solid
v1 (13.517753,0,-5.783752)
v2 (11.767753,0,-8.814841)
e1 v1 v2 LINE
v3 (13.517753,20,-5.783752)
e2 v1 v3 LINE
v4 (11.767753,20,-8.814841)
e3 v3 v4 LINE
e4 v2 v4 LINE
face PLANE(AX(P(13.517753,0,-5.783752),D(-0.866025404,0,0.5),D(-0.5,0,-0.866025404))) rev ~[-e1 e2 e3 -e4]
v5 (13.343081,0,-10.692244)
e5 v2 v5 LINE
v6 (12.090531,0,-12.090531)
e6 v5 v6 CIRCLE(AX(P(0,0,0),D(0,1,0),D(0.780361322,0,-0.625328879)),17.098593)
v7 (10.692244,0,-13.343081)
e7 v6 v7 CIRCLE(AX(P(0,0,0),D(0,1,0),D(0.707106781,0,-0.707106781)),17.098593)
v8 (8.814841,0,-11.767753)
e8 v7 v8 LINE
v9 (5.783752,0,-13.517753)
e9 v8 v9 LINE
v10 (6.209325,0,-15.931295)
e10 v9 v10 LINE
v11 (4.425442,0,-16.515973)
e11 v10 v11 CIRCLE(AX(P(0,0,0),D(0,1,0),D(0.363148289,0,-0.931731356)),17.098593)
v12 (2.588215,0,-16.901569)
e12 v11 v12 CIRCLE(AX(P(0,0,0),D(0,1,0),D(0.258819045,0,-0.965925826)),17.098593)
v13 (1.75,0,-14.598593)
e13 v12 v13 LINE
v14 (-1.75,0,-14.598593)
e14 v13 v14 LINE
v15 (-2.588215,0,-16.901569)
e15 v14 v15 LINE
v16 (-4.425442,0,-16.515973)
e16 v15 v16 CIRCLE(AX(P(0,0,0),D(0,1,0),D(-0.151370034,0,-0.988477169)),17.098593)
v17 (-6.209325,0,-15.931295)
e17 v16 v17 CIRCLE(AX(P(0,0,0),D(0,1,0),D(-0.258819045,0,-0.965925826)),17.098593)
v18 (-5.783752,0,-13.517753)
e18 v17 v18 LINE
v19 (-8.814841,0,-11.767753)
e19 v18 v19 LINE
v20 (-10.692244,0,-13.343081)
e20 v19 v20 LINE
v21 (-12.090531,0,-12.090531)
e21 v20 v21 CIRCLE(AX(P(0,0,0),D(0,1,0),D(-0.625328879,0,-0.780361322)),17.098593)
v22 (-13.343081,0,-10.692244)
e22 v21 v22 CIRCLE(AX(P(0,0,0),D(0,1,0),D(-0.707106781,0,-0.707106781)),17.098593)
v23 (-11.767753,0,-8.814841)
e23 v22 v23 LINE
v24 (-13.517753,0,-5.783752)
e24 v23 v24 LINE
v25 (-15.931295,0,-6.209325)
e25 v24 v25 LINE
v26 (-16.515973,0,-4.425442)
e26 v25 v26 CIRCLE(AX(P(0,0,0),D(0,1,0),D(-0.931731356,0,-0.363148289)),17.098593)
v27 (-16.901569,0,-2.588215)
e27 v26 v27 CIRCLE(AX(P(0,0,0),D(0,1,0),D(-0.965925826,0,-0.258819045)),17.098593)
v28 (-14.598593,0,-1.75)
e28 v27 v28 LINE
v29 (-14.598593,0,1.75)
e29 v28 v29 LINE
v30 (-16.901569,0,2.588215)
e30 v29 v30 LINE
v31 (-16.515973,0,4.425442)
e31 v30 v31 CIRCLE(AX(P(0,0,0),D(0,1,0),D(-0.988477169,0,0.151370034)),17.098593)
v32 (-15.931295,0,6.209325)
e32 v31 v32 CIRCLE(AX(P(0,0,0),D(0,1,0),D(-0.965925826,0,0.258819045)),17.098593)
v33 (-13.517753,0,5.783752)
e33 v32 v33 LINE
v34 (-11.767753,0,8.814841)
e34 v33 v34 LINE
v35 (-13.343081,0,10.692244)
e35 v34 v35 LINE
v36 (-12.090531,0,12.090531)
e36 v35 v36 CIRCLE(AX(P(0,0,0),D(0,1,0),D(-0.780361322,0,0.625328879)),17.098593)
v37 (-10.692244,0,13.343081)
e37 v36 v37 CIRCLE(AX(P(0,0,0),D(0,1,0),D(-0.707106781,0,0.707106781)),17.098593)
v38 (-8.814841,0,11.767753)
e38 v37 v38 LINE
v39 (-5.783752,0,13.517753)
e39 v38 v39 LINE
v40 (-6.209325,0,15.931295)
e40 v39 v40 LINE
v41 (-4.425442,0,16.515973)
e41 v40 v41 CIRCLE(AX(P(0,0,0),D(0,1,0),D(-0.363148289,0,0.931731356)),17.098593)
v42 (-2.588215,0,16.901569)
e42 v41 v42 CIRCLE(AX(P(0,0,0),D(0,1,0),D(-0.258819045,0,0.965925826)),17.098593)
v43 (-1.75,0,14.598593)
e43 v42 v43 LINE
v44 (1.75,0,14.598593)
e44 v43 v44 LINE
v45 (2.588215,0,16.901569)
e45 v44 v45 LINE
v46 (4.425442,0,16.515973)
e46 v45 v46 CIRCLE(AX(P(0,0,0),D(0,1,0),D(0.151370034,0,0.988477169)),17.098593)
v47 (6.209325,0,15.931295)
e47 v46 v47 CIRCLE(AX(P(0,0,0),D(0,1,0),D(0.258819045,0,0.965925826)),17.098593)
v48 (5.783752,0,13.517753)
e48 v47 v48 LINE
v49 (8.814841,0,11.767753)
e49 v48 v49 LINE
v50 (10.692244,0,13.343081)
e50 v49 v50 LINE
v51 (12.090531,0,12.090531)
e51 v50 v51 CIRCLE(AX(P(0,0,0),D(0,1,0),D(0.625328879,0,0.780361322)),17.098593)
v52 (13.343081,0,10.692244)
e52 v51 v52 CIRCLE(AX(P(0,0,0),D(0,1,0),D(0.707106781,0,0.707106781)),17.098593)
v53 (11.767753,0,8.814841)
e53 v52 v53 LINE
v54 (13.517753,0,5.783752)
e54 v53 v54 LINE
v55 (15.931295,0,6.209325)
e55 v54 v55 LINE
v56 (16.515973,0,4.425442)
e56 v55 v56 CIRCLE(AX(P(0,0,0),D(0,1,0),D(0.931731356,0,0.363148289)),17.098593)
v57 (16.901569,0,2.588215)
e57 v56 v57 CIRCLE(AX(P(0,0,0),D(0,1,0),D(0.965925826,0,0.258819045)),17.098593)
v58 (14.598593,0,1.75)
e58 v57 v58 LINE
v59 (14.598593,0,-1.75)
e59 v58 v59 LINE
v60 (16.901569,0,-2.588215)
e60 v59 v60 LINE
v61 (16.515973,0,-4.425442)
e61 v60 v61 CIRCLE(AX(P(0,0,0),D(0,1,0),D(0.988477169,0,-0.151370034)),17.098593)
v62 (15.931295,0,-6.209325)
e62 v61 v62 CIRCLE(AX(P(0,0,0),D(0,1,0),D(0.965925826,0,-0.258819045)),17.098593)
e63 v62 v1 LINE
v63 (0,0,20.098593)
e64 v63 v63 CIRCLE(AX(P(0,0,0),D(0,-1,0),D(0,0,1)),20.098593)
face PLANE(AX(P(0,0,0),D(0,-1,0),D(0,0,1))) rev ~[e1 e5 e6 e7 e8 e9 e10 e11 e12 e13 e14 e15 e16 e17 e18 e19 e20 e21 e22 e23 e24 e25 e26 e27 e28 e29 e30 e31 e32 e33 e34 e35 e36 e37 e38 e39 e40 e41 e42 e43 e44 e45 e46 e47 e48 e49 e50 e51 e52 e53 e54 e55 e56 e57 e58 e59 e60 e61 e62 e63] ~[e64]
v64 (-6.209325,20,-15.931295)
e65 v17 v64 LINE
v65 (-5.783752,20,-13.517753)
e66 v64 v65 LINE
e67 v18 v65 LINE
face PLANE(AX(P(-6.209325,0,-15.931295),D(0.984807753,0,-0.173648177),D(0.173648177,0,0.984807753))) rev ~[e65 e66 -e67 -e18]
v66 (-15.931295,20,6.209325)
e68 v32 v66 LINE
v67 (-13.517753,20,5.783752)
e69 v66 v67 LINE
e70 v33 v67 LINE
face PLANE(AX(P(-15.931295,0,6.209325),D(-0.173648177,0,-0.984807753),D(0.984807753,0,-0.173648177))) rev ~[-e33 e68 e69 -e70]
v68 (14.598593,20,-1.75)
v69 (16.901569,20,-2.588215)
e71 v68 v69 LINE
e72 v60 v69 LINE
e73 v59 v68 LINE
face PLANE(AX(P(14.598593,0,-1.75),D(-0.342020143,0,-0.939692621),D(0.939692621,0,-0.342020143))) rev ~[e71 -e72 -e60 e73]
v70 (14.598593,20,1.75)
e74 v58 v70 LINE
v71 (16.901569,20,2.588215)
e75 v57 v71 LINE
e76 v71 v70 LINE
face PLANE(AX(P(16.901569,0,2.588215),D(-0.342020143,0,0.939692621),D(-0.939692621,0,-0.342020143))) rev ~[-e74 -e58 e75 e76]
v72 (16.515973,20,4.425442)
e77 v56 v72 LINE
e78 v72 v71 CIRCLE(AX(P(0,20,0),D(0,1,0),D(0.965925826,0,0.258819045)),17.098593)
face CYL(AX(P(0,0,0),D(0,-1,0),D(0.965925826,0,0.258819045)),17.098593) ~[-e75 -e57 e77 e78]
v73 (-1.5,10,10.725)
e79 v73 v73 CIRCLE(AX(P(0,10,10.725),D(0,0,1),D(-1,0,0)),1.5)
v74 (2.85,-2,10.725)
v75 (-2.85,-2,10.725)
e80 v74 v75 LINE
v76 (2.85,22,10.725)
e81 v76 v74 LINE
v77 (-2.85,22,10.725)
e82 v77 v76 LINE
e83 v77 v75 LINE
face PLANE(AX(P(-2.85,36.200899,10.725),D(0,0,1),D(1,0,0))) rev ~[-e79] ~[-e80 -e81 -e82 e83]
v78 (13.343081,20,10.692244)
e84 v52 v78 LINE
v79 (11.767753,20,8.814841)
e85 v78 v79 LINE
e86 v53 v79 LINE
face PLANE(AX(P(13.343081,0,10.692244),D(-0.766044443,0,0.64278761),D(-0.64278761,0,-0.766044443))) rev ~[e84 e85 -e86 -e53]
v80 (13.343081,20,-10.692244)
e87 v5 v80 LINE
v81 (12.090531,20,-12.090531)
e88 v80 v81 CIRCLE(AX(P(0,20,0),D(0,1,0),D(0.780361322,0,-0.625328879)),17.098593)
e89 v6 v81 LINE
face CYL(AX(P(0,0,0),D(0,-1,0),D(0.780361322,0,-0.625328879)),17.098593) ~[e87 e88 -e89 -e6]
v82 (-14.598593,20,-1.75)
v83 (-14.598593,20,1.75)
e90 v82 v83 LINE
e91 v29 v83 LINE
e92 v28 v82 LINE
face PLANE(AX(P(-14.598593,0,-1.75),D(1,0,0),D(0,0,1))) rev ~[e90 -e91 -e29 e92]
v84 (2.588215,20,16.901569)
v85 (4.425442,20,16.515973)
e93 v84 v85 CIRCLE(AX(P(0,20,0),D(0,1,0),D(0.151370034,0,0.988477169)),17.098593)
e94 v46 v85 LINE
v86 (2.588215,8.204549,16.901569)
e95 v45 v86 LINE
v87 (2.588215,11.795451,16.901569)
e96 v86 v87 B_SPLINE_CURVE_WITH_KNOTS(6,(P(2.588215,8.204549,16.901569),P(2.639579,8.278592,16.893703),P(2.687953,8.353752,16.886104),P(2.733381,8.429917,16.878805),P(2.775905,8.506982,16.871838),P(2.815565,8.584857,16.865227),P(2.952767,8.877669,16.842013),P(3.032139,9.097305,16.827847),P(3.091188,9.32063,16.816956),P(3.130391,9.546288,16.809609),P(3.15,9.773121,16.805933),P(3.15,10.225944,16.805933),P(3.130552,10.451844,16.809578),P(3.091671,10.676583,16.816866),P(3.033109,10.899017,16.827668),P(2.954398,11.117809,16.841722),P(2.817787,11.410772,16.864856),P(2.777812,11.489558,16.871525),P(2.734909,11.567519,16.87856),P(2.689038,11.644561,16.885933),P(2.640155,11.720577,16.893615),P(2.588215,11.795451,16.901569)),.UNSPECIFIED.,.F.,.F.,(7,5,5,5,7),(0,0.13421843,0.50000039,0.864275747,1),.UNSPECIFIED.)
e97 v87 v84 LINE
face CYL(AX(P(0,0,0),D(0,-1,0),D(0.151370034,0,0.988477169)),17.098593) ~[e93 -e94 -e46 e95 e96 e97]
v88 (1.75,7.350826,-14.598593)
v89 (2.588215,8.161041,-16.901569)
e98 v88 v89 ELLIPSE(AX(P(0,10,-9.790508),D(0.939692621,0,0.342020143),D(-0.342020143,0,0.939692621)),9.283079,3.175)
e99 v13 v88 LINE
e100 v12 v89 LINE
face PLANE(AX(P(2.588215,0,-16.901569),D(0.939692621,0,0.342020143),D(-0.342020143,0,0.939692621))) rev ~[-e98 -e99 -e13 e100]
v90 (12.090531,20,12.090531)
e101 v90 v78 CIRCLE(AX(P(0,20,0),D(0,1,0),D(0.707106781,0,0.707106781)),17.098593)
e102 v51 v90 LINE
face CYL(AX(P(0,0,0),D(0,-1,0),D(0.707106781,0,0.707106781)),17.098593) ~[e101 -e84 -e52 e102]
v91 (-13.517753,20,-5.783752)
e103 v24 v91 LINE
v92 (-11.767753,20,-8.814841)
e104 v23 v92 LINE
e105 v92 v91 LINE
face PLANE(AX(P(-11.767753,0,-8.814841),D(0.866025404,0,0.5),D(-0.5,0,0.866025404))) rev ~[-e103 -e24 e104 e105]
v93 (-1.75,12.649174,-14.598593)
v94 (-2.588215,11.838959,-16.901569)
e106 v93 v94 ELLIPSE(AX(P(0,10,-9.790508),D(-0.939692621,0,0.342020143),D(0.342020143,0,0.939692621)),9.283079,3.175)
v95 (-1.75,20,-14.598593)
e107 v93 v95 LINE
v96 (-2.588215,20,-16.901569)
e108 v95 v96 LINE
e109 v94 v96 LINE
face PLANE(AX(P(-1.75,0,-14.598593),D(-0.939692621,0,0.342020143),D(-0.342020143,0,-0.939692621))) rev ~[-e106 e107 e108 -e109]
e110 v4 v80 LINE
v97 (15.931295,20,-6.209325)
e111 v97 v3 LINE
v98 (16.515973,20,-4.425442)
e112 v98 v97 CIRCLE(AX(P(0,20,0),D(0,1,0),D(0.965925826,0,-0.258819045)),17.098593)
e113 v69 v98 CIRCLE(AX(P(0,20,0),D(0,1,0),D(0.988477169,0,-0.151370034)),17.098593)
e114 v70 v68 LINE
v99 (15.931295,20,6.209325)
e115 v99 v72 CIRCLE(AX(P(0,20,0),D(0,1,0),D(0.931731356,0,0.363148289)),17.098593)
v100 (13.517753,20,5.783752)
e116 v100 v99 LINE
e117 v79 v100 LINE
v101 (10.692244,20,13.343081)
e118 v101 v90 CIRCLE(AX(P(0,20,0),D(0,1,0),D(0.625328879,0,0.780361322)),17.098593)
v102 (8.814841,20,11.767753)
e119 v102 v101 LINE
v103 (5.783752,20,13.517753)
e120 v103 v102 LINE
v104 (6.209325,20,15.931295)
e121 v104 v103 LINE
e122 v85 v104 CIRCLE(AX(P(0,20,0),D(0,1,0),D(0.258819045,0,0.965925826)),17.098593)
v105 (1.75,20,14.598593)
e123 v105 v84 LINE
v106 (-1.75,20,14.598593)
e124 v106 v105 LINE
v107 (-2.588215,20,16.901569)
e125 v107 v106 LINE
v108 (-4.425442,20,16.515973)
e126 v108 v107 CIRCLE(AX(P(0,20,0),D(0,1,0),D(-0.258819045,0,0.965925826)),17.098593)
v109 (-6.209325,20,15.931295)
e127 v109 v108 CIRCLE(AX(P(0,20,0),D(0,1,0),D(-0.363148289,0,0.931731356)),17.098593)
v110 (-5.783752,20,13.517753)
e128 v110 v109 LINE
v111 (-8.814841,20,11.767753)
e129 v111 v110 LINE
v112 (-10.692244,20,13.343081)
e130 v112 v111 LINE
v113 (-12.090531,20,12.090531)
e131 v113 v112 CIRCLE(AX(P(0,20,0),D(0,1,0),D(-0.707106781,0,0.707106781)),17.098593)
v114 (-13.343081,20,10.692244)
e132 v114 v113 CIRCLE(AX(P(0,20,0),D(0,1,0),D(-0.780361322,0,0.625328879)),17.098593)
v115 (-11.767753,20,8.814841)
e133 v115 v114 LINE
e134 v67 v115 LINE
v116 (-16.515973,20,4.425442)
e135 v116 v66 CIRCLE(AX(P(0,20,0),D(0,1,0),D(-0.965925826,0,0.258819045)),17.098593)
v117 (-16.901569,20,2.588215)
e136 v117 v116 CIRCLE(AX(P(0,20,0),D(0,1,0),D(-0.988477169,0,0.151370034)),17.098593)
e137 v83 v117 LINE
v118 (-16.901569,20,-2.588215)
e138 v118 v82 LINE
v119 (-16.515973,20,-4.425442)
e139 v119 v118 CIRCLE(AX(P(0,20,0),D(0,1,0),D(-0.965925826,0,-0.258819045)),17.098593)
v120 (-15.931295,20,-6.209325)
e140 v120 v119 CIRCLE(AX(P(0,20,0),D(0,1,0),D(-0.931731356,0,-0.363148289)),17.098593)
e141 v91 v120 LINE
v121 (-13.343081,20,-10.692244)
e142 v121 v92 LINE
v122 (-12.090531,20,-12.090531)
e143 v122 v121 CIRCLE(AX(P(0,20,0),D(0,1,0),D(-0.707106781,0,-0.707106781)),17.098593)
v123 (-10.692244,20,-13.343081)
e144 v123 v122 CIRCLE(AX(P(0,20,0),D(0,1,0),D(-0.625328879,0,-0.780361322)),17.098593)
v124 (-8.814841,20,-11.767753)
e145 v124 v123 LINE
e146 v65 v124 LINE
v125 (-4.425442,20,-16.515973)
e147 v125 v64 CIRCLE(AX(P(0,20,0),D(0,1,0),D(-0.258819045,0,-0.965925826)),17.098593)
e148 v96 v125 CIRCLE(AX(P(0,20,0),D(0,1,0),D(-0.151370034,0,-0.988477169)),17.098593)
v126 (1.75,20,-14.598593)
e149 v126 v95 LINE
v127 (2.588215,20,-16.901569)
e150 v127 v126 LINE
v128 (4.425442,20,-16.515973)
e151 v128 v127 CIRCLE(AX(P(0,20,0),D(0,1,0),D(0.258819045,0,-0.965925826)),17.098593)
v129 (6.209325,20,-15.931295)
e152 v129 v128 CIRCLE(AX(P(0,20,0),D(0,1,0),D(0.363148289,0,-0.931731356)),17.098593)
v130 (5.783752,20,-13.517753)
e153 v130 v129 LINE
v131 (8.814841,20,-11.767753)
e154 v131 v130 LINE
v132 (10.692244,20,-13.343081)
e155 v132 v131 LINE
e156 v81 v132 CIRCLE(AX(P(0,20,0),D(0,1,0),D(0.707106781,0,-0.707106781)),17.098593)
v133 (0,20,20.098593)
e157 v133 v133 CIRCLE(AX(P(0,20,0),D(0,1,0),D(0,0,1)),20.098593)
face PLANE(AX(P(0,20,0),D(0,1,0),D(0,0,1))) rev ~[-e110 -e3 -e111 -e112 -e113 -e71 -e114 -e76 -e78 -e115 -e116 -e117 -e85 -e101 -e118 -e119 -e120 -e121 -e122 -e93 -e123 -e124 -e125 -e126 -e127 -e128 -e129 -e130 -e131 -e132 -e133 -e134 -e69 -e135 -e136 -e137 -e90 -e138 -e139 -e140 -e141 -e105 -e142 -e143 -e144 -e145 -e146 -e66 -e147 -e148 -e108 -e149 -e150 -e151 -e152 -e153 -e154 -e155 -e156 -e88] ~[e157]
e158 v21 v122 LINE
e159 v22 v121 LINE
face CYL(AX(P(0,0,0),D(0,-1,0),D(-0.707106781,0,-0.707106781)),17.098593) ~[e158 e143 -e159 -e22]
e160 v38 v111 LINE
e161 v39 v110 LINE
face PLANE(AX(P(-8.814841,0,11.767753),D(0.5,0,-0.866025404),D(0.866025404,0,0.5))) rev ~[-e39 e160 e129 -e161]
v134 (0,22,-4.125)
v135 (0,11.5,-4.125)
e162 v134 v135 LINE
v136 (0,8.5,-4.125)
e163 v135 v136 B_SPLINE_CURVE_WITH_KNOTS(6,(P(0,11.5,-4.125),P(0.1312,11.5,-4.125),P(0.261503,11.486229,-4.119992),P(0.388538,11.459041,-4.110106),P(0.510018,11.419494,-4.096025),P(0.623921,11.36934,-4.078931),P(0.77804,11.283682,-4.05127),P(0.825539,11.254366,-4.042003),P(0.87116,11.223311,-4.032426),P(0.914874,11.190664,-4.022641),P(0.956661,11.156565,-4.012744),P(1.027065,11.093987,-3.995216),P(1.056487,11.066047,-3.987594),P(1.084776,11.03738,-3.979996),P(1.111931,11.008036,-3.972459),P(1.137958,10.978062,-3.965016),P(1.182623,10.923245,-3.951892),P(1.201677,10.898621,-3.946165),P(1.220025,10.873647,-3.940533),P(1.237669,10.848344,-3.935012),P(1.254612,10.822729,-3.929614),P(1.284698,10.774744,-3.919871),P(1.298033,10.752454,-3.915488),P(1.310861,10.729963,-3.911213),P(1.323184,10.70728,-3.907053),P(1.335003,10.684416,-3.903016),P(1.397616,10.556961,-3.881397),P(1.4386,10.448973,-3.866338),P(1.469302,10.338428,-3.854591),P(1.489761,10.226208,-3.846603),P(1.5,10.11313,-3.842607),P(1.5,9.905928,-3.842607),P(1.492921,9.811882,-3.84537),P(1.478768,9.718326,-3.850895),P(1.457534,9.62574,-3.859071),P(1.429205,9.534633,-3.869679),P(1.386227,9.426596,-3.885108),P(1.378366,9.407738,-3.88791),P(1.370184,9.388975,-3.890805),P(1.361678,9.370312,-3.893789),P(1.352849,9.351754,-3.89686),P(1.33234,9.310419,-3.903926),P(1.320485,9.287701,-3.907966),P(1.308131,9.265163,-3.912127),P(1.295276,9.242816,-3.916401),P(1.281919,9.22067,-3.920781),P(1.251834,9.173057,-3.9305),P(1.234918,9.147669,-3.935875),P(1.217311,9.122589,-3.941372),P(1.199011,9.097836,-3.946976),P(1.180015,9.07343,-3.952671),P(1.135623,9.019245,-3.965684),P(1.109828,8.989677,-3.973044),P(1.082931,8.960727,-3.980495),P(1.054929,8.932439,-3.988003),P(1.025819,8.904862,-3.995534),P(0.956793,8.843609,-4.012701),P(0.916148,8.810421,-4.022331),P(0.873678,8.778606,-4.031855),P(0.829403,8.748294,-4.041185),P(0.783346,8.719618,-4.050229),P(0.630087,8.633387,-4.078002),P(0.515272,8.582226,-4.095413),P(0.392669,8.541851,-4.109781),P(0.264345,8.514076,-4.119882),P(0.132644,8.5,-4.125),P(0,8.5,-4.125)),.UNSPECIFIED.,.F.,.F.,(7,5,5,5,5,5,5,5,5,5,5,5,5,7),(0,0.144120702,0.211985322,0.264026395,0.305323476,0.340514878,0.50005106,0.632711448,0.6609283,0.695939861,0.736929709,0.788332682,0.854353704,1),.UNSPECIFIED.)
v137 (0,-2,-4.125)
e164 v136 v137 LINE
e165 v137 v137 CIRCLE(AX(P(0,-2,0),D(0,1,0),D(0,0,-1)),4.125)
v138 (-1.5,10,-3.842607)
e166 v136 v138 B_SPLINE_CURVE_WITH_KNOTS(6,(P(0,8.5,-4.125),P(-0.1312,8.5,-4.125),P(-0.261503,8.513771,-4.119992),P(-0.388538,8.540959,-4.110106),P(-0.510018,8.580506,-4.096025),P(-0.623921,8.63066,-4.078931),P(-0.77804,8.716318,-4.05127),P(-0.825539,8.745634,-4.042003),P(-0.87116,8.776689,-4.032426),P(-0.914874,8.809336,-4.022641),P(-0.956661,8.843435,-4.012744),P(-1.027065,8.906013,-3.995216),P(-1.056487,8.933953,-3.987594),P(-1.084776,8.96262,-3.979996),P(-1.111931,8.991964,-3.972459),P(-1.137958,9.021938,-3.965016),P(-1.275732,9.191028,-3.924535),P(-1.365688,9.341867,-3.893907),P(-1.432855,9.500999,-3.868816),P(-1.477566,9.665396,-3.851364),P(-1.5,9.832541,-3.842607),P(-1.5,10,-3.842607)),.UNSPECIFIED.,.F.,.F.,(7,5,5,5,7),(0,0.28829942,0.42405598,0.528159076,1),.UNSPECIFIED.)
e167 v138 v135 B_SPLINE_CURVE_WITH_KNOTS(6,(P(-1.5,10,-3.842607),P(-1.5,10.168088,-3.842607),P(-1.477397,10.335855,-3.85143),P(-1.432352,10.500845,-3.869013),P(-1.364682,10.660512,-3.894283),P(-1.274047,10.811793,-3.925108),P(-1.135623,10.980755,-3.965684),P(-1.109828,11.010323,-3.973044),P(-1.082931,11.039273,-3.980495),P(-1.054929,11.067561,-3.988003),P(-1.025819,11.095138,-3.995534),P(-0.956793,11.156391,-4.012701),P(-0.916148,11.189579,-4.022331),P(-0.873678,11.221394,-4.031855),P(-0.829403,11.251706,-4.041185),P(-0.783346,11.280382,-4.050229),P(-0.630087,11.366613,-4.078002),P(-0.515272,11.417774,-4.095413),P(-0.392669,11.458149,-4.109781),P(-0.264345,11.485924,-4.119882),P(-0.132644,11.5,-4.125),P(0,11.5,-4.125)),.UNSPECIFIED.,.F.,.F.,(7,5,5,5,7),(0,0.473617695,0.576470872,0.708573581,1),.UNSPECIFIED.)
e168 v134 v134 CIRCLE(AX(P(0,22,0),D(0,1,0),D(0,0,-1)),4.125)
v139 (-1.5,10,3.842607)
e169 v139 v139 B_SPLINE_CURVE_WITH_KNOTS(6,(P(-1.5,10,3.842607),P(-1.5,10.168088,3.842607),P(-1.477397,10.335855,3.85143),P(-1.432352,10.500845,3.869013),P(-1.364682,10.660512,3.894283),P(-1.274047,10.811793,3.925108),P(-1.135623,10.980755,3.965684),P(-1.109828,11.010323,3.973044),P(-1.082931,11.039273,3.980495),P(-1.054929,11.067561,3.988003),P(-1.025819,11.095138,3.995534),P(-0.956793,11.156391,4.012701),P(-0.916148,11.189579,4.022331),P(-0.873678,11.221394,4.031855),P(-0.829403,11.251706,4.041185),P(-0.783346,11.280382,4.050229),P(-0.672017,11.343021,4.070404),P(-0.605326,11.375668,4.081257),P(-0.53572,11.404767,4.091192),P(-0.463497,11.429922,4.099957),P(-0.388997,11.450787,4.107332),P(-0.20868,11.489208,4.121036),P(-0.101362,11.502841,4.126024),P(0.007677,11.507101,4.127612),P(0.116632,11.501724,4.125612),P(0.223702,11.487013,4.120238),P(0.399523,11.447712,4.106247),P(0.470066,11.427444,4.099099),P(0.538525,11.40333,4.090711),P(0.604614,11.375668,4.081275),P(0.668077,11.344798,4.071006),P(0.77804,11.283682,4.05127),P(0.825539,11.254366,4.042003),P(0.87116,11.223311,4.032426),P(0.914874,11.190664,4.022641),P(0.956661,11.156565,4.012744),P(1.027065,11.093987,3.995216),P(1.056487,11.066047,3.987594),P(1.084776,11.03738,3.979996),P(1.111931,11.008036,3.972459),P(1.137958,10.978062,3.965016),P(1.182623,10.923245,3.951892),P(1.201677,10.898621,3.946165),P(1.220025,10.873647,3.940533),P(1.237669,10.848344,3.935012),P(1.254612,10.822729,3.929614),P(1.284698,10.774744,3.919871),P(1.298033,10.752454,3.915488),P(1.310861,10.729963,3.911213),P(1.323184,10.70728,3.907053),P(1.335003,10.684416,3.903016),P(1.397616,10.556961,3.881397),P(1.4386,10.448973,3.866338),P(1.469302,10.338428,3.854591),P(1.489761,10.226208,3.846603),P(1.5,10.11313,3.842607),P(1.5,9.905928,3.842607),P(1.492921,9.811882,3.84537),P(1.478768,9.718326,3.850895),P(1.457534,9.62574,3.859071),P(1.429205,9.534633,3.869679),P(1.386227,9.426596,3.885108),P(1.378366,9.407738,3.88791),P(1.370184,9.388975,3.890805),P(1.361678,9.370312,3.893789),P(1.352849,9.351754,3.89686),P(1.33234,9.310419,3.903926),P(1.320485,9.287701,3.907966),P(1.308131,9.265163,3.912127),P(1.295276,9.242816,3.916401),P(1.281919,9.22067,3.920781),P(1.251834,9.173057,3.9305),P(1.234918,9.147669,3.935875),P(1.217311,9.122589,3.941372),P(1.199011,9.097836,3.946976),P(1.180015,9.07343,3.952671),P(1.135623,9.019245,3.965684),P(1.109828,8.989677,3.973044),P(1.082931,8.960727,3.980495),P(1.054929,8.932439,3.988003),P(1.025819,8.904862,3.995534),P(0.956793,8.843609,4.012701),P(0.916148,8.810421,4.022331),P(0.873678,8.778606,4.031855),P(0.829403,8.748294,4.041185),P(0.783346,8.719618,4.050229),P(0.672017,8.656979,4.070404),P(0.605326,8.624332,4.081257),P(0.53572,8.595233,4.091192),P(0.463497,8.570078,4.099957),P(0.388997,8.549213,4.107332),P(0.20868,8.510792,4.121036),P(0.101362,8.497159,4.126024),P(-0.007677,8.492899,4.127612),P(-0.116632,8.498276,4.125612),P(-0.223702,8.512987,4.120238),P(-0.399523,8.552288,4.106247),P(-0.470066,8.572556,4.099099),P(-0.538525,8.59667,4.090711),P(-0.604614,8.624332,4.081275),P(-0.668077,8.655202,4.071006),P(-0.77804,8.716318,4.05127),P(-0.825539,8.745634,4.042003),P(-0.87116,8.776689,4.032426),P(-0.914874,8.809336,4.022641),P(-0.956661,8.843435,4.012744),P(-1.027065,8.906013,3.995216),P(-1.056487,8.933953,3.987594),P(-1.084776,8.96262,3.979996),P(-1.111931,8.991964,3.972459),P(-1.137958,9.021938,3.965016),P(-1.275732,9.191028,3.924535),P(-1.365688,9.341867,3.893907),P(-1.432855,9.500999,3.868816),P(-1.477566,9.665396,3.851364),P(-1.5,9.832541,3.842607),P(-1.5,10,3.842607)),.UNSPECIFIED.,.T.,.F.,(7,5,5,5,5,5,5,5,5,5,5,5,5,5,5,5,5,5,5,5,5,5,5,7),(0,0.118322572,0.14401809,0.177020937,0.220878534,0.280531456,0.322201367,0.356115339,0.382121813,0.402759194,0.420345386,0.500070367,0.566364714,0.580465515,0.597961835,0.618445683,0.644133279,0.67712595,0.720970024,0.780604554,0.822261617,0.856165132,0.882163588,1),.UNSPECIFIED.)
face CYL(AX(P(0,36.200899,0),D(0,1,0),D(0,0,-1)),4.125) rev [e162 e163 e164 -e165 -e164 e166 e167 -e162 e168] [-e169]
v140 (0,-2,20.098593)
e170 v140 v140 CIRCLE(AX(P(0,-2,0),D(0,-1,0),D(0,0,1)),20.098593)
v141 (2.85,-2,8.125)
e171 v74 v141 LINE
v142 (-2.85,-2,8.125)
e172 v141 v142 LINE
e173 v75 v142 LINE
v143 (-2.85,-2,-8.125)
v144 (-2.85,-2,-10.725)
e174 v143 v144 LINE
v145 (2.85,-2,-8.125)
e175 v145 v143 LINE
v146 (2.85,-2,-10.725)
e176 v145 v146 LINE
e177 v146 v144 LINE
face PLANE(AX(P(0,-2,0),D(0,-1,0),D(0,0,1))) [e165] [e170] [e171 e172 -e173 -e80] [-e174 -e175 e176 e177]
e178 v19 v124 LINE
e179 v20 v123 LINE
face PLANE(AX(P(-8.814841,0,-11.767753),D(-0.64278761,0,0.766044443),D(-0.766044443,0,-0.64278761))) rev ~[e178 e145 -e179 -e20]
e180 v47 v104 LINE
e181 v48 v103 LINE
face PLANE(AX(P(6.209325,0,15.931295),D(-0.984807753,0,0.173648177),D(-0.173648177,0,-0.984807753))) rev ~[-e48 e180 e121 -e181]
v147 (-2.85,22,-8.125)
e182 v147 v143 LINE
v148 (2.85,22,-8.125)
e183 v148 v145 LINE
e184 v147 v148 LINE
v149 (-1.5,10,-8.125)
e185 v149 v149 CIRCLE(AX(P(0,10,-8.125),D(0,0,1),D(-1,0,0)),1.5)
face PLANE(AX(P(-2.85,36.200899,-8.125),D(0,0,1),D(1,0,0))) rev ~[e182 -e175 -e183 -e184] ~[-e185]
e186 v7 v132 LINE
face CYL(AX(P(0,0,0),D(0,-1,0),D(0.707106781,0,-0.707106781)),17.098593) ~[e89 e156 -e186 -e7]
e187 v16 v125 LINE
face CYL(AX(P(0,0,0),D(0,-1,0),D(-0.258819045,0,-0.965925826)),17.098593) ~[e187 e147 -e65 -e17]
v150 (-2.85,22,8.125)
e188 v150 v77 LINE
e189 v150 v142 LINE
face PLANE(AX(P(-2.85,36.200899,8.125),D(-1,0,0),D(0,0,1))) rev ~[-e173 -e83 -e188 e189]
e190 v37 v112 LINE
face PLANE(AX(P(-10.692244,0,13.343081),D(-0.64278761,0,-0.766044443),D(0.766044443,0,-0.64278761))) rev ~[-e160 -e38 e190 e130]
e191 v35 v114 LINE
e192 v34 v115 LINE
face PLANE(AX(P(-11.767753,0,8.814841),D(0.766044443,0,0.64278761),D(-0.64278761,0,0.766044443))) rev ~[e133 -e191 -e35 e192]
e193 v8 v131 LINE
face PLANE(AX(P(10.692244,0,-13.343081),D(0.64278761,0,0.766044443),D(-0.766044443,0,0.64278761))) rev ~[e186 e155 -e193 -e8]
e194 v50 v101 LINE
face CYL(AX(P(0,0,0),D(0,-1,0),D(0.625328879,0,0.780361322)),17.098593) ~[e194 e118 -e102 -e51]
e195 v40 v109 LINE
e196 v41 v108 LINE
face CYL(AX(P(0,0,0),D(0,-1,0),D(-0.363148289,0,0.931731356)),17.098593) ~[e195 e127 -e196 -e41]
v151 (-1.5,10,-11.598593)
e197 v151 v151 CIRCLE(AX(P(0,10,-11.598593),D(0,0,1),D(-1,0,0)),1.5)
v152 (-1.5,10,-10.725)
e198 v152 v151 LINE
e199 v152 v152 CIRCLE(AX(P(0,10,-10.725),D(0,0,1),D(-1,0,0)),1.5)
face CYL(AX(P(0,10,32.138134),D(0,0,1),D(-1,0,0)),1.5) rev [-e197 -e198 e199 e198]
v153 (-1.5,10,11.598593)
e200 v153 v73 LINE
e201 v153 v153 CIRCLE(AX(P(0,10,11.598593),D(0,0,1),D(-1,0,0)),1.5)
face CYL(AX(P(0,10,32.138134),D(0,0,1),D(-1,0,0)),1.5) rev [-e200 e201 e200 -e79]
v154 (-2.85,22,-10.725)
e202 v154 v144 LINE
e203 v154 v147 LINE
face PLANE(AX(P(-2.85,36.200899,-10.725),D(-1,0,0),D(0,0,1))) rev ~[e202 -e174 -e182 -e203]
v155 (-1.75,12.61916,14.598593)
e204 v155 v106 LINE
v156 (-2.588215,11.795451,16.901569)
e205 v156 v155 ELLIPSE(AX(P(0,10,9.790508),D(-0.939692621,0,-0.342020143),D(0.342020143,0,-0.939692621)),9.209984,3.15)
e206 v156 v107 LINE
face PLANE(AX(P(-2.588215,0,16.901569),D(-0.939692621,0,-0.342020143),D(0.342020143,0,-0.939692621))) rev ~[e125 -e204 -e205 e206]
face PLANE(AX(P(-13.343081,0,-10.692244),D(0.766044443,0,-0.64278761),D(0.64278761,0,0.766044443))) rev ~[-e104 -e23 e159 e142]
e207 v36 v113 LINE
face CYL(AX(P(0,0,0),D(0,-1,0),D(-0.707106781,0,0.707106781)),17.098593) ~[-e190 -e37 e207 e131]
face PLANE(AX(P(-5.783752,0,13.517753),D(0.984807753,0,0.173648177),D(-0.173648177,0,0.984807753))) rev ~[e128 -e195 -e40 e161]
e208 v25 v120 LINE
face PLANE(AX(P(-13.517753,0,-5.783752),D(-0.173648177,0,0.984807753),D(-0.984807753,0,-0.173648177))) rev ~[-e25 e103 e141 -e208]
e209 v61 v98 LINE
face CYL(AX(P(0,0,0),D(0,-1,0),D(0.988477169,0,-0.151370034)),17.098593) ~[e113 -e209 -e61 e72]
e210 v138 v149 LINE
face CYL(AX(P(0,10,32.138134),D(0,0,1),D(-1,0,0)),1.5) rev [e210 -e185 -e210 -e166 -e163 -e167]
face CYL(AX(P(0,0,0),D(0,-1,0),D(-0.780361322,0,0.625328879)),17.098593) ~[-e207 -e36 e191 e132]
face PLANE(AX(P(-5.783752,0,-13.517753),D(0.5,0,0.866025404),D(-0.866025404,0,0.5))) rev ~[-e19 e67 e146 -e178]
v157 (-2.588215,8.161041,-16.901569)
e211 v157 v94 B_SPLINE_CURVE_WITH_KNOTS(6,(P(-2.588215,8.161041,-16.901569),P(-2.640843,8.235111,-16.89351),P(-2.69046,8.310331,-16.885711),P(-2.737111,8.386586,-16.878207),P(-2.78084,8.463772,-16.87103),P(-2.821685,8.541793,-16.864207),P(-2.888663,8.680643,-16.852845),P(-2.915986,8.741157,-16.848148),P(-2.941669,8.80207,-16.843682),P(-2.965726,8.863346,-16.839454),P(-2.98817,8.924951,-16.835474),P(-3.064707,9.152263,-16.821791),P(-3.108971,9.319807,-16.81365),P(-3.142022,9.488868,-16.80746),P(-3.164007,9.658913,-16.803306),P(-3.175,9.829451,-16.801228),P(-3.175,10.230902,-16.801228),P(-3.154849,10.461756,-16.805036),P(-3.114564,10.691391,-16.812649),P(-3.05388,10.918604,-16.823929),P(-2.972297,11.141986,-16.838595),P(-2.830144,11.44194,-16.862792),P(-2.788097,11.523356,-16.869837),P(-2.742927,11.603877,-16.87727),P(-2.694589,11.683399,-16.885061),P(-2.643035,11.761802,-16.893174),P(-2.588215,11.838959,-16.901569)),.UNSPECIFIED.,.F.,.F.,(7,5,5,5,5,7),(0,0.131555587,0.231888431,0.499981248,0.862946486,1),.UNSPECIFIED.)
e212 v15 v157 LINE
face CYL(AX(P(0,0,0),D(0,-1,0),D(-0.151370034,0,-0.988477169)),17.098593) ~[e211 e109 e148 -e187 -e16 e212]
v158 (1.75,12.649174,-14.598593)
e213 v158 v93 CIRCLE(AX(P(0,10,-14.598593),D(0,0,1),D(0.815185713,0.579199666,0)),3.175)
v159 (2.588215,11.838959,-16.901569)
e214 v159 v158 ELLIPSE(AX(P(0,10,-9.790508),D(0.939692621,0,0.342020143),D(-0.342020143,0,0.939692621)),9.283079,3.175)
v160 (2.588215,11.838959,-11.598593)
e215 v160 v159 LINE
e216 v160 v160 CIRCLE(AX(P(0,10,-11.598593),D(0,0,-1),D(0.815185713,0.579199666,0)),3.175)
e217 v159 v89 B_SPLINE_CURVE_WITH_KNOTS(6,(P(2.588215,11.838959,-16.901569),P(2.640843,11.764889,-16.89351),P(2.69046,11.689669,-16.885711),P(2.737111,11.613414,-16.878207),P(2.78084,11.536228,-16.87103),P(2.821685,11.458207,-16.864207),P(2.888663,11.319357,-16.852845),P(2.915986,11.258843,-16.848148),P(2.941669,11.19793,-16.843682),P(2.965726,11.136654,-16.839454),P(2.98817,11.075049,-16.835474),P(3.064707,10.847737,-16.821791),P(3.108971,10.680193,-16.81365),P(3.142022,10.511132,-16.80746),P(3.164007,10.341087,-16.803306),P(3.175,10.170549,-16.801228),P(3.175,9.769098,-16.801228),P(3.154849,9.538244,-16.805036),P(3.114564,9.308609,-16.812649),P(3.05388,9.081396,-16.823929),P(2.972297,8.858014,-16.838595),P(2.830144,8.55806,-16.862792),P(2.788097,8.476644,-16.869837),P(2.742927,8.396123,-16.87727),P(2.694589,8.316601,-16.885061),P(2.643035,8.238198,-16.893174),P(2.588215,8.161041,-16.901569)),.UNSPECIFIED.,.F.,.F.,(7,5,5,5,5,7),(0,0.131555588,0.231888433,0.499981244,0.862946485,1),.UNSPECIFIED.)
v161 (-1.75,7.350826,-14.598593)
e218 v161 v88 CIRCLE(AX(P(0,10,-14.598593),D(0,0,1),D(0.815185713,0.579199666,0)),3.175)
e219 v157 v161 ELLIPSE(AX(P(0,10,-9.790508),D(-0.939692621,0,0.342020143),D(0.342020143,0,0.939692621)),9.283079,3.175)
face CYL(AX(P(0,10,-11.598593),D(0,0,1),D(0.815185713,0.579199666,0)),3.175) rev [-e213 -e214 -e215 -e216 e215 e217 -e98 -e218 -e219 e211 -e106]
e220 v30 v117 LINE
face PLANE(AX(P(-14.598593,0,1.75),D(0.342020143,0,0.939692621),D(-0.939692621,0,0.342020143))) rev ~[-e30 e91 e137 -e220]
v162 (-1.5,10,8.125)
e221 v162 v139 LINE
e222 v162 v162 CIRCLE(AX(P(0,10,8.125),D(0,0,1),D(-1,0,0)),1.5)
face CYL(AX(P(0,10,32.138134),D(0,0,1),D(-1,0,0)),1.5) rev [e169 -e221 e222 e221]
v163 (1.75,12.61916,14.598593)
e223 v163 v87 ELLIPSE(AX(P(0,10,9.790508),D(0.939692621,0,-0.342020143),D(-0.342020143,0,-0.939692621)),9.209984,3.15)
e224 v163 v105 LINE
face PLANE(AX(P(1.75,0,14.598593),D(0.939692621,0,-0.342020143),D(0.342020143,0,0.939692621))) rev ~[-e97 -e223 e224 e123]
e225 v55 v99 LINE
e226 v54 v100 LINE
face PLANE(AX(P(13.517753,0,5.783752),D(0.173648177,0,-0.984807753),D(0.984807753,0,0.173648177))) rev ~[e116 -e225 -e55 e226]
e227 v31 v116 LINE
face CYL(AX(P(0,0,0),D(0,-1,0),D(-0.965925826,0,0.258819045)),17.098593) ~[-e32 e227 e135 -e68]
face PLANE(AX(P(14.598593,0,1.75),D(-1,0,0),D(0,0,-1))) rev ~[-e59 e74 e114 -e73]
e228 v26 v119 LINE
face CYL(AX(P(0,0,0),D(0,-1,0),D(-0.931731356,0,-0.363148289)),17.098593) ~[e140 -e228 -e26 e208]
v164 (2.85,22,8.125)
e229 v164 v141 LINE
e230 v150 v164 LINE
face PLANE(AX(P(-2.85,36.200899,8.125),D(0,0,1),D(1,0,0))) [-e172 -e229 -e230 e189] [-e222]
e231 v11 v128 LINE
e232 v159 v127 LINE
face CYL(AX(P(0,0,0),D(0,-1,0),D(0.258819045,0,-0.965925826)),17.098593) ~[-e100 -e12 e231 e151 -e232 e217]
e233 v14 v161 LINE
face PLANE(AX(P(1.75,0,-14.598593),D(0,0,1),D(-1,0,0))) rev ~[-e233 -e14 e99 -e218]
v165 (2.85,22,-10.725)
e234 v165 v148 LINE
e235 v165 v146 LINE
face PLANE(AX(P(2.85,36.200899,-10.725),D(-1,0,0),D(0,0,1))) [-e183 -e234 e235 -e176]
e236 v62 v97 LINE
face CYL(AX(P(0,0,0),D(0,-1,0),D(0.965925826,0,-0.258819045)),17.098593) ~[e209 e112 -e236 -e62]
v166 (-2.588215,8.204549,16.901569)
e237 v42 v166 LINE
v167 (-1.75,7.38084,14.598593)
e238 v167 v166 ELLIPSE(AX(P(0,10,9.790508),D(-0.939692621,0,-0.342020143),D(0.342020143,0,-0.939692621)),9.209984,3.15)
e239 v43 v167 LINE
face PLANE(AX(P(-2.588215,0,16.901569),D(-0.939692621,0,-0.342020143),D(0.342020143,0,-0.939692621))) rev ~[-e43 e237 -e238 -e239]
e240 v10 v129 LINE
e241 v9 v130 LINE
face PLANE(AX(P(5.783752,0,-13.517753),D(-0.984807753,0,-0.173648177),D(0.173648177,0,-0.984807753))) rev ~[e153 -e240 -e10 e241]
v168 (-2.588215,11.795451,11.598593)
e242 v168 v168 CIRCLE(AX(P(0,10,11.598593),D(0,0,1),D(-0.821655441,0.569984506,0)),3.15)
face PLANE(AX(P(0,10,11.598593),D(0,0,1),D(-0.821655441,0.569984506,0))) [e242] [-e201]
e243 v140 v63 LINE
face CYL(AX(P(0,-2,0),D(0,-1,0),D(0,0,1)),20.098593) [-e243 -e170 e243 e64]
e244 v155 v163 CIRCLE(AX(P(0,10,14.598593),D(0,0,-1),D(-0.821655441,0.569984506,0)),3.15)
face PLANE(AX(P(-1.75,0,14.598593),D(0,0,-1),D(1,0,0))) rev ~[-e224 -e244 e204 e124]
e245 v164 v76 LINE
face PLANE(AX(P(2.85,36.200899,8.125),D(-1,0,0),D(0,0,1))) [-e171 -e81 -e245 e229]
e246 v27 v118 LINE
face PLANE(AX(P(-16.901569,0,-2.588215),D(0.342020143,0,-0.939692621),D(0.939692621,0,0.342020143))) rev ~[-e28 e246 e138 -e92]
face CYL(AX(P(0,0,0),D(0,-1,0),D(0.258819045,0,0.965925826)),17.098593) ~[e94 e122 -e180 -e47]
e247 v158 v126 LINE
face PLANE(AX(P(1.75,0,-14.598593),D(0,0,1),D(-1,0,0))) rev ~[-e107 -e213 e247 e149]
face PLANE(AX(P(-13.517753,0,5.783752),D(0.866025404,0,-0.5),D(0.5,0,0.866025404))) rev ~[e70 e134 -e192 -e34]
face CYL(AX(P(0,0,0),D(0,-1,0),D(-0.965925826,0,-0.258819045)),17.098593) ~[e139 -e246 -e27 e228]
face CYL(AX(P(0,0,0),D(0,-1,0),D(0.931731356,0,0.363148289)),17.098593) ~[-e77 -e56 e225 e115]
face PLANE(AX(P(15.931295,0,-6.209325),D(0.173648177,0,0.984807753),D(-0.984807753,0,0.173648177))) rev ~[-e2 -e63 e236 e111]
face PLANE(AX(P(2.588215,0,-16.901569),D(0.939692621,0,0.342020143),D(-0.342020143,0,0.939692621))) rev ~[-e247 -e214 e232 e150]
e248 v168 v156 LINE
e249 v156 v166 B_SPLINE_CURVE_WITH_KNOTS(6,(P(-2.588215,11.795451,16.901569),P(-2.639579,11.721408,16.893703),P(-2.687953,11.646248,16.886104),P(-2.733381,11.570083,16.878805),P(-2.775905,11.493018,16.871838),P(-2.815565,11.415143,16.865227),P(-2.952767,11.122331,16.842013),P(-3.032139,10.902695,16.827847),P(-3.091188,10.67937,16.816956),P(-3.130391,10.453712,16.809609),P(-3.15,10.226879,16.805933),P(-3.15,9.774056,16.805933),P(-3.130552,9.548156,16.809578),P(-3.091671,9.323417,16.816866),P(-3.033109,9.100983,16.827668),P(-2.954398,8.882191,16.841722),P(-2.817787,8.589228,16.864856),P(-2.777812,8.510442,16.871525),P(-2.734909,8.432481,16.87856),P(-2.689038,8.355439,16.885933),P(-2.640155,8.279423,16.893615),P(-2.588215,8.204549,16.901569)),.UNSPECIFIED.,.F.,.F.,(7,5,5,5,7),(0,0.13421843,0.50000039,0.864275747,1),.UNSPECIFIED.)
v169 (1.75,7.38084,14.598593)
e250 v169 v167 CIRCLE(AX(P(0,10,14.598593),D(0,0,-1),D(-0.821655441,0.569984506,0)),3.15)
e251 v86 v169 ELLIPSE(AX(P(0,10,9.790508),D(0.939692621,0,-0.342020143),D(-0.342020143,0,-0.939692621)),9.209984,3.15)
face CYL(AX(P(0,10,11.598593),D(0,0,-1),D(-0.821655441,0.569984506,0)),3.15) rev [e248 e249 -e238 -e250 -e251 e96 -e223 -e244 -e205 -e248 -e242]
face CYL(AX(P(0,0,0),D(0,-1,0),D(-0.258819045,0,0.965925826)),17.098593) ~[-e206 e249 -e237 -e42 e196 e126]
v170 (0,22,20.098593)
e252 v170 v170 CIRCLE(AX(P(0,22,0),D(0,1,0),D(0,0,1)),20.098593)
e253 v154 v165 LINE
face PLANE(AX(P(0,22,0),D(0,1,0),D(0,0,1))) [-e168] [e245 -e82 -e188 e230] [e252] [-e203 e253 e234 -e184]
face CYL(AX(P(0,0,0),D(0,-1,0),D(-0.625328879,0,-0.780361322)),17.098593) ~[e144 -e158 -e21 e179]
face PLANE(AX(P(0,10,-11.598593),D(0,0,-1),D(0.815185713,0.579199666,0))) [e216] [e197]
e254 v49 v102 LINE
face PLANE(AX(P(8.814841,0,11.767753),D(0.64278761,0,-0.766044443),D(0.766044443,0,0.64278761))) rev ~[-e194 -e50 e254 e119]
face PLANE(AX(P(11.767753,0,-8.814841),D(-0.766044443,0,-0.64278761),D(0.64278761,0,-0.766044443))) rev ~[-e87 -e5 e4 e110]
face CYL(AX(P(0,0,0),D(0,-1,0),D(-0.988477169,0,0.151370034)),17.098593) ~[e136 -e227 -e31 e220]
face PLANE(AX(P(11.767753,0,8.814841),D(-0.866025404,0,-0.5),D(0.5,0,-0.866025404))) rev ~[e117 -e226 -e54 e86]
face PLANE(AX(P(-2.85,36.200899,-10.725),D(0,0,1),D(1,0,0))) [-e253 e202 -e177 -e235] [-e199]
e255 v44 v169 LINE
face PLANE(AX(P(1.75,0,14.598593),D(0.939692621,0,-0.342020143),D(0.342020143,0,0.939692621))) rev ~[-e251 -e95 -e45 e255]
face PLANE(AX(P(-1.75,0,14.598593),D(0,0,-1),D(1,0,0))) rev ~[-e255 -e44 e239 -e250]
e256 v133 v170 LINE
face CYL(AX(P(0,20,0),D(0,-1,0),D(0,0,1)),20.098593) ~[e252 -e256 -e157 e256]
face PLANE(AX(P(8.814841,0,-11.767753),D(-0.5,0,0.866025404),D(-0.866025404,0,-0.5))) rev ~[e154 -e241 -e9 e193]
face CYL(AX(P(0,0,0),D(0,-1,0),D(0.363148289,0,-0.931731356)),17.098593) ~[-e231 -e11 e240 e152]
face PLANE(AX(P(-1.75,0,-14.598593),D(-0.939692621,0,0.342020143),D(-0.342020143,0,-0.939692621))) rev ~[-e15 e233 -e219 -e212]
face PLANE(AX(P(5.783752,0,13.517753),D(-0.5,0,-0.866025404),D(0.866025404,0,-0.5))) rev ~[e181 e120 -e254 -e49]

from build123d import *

# Parameters (mm, degrees)
SKETCH2_R               = 19.098593171
BOSS_EXTRUDE2_DEPTH     = 20
CUT_EXTRUDE1_START      = -20
CUT_EXTRUDE1_DEPTH      = 20
CIRPATTERN2_COUNT       = 12
SKETCH6_R               = 20.098593171
BOSS_EXTRUDE3_DEPTH     = 2
BOSS_EXTRUDE4_START     = 2
SKETCH7_R               = 20.098593171
BOSS_EXTRUDE4_DEPTH     = 2
CUT_EXTRUDE3_DEPTH      = 38.200899114
CUT_EXTRUDE3_DEPTH_BACK = 38.200899114
SKETCH8_R               = 4.125
SKETCH8_W               = 5.7
SKETCH8_H               = 2.6
CUT_EXTRUDE4_DEPTH      = 46.7367269
CUT_EXTRUDE4_DEPTH_BACK = 46.7367269
SKETCH10_R              = 1.5
CUT_EXTRUDE5_DEPTH      = 10
CUT_EXTRUDE5_DEPTH_BACK = 3
SKETCH11_R              = 3.175
CUT_EXTRUDE6_DEPTH      = 10
CUT_EXTRUDE6_DEPTH_BACK = 3
SKETCH12_R              = 3.15


with BuildPart() as part:
    # Sketch2 → Boss-Extrude2 (new body)
    with BuildSketch(Plane(origin=(0, 0, 0), x_dir=(1, 0, 0), z_dir=(0, 1, 0))):
        with Locations(Location((0, 0, 0), (0, 0, 270))):
            Circle(SKETCH2_R)
    extrude(amount=BOSS_EXTRUDE2_DEPTH)

    # Sketch3 → Cut-Extrude1 (cut)
    with BuildSketch(Plane(origin=(0, 20, 0), x_dir=(1, 0, 0), z_dir=(0, 1, 0)).offset(CUT_EXTRUDE1_START)):
        with BuildLine():
            Line((1.75, 14.598593171), (-1.75, 14.598593171))
            Line((-1.75, 14.598593171), (-2.588214639, 16.901568963))
            ThreePointArc((-2.588214639, 16.901568963), (-3.512123919, 16.734003526), (-4.425441557, 16.515972737))
            Line((-4.425441557, 16.515972737), (-4.943079647, 18.44782439))
            ThreePointArc((-4.943079647, 18.44782439), (0, 19.098593171), (4.943079647, 18.44782439))
            Line((4.943079647, 18.44782439), (4.425441557, 16.515972737))
            ThreePointArc((4.425441557, 16.515972737), (3.512123919, 16.734003526), (2.588214639, 16.901568963))
            Line((2.588214639, 16.901568963), (1.75, 14.598593171))
        make_face()
    cut_extrude1 = extrude(amount=CUT_EXTRUDE1_DEPTH, mode=Mode.SUBTRACT)

    # CirPattern2: Cut-Extrude1 ×12 about axis
    cirpattern2_axis = Axis((0, 0, 0), (0, 1, 0))
    for i in range(1, CIRPATTERN2_COUNT):
        add(cut_extrude1.rotate(cirpattern2_axis, i * 360 / CIRPATTERN2_COUNT), mode=Mode.SUBTRACT)

    # Sketch6 → Boss-Extrude3 (add)
    with BuildSketch(Plane(origin=(0, 20, 0), x_dir=(1, 0, 0), z_dir=(0, 1, 0))):
        with Locations(Location((0, 0, 0), (0, 0, 270))):
            Circle(SKETCH6_R)
    extrude(amount=BOSS_EXTRUDE3_DEPTH)

    # Sketch7 → Boss-Extrude4 (add)
    with BuildSketch(Plane.XZ.offset(BOSS_EXTRUDE4_START)):
        with Locations(Location((0, 0, 0), (0, 0, 90))):
            Circle(SKETCH7_R)
    extrude(amount=-BOSS_EXTRUDE4_DEPTH)

    # Sketch8 → Cut-Extrude3 (cut, two sides: drawn at the far end of the back side and taken through both)
    with BuildSketch(Plane.XZ.offset(2).offset(-CUT_EXTRUDE3_DEPTH_BACK)):
        with Locations(Location((0, 0, 0), (0, 0, 270))):
            Circle(SKETCH8_R)
        with Locations((0, 9.425)):
            Rectangle(SKETCH8_W, SKETCH8_H)
        with Locations((0, -9.425)):
            Rectangle(SKETCH8_W, SKETCH8_H)
    extrude(amount=CUT_EXTRUDE3_DEPTH + CUT_EXTRUDE3_DEPTH_BACK, mode=Mode.SUBTRACT)

    # Sketch10 → Cut-Extrude4 (cut, two sides: drawn at the far end of the back side and taken through both)
    with BuildSketch(Plane(origin=(0, 0, -14.598593171), x_dir=(-1, 0, 0), z_dir=(0, 0, -1)).offset(-CUT_EXTRUDE4_DEPTH_BACK)):
        with Locations((0, 10)):
            Circle(SKETCH10_R)
    extrude(amount=CUT_EXTRUDE4_DEPTH + CUT_EXTRUDE4_DEPTH_BACK, mode=Mode.SUBTRACT)

    # Sketch11 → Cut-Extrude5 (cut, two sides: drawn at the far end of the back side and taken through both)
    with BuildSketch(Plane(origin=(0, 0, -14.598593171), x_dir=(-1, 0, 0), z_dir=(0, 0, -1)).offset(-CUT_EXTRUDE5_DEPTH_BACK)):
        with Locations(Location((0, 10, 0), (0, 0, 144.605728901))):
            Circle(SKETCH11_R)
    extrude(amount=CUT_EXTRUDE5_DEPTH + CUT_EXTRUDE5_DEPTH_BACK, mode=Mode.SUBTRACT)

    # Sketch12 → Cut-Extrude6 (cut, two sides: drawn at the far end of the back side and taken through both)
    with BuildSketch(Plane.XY.offset(14.598593171).offset(-CUT_EXTRUDE6_DEPTH_BACK)):
        with Locations(Location((0, 10, 0), (0, 0, 145.250854713))):
            Circle(SKETCH12_R)
    extrude(amount=CUT_EXTRUDE6_DEPTH + CUT_EXTRUDE6_DEPTH_BACK, mode=Mode.SUBTRACT)


solid = part.part
